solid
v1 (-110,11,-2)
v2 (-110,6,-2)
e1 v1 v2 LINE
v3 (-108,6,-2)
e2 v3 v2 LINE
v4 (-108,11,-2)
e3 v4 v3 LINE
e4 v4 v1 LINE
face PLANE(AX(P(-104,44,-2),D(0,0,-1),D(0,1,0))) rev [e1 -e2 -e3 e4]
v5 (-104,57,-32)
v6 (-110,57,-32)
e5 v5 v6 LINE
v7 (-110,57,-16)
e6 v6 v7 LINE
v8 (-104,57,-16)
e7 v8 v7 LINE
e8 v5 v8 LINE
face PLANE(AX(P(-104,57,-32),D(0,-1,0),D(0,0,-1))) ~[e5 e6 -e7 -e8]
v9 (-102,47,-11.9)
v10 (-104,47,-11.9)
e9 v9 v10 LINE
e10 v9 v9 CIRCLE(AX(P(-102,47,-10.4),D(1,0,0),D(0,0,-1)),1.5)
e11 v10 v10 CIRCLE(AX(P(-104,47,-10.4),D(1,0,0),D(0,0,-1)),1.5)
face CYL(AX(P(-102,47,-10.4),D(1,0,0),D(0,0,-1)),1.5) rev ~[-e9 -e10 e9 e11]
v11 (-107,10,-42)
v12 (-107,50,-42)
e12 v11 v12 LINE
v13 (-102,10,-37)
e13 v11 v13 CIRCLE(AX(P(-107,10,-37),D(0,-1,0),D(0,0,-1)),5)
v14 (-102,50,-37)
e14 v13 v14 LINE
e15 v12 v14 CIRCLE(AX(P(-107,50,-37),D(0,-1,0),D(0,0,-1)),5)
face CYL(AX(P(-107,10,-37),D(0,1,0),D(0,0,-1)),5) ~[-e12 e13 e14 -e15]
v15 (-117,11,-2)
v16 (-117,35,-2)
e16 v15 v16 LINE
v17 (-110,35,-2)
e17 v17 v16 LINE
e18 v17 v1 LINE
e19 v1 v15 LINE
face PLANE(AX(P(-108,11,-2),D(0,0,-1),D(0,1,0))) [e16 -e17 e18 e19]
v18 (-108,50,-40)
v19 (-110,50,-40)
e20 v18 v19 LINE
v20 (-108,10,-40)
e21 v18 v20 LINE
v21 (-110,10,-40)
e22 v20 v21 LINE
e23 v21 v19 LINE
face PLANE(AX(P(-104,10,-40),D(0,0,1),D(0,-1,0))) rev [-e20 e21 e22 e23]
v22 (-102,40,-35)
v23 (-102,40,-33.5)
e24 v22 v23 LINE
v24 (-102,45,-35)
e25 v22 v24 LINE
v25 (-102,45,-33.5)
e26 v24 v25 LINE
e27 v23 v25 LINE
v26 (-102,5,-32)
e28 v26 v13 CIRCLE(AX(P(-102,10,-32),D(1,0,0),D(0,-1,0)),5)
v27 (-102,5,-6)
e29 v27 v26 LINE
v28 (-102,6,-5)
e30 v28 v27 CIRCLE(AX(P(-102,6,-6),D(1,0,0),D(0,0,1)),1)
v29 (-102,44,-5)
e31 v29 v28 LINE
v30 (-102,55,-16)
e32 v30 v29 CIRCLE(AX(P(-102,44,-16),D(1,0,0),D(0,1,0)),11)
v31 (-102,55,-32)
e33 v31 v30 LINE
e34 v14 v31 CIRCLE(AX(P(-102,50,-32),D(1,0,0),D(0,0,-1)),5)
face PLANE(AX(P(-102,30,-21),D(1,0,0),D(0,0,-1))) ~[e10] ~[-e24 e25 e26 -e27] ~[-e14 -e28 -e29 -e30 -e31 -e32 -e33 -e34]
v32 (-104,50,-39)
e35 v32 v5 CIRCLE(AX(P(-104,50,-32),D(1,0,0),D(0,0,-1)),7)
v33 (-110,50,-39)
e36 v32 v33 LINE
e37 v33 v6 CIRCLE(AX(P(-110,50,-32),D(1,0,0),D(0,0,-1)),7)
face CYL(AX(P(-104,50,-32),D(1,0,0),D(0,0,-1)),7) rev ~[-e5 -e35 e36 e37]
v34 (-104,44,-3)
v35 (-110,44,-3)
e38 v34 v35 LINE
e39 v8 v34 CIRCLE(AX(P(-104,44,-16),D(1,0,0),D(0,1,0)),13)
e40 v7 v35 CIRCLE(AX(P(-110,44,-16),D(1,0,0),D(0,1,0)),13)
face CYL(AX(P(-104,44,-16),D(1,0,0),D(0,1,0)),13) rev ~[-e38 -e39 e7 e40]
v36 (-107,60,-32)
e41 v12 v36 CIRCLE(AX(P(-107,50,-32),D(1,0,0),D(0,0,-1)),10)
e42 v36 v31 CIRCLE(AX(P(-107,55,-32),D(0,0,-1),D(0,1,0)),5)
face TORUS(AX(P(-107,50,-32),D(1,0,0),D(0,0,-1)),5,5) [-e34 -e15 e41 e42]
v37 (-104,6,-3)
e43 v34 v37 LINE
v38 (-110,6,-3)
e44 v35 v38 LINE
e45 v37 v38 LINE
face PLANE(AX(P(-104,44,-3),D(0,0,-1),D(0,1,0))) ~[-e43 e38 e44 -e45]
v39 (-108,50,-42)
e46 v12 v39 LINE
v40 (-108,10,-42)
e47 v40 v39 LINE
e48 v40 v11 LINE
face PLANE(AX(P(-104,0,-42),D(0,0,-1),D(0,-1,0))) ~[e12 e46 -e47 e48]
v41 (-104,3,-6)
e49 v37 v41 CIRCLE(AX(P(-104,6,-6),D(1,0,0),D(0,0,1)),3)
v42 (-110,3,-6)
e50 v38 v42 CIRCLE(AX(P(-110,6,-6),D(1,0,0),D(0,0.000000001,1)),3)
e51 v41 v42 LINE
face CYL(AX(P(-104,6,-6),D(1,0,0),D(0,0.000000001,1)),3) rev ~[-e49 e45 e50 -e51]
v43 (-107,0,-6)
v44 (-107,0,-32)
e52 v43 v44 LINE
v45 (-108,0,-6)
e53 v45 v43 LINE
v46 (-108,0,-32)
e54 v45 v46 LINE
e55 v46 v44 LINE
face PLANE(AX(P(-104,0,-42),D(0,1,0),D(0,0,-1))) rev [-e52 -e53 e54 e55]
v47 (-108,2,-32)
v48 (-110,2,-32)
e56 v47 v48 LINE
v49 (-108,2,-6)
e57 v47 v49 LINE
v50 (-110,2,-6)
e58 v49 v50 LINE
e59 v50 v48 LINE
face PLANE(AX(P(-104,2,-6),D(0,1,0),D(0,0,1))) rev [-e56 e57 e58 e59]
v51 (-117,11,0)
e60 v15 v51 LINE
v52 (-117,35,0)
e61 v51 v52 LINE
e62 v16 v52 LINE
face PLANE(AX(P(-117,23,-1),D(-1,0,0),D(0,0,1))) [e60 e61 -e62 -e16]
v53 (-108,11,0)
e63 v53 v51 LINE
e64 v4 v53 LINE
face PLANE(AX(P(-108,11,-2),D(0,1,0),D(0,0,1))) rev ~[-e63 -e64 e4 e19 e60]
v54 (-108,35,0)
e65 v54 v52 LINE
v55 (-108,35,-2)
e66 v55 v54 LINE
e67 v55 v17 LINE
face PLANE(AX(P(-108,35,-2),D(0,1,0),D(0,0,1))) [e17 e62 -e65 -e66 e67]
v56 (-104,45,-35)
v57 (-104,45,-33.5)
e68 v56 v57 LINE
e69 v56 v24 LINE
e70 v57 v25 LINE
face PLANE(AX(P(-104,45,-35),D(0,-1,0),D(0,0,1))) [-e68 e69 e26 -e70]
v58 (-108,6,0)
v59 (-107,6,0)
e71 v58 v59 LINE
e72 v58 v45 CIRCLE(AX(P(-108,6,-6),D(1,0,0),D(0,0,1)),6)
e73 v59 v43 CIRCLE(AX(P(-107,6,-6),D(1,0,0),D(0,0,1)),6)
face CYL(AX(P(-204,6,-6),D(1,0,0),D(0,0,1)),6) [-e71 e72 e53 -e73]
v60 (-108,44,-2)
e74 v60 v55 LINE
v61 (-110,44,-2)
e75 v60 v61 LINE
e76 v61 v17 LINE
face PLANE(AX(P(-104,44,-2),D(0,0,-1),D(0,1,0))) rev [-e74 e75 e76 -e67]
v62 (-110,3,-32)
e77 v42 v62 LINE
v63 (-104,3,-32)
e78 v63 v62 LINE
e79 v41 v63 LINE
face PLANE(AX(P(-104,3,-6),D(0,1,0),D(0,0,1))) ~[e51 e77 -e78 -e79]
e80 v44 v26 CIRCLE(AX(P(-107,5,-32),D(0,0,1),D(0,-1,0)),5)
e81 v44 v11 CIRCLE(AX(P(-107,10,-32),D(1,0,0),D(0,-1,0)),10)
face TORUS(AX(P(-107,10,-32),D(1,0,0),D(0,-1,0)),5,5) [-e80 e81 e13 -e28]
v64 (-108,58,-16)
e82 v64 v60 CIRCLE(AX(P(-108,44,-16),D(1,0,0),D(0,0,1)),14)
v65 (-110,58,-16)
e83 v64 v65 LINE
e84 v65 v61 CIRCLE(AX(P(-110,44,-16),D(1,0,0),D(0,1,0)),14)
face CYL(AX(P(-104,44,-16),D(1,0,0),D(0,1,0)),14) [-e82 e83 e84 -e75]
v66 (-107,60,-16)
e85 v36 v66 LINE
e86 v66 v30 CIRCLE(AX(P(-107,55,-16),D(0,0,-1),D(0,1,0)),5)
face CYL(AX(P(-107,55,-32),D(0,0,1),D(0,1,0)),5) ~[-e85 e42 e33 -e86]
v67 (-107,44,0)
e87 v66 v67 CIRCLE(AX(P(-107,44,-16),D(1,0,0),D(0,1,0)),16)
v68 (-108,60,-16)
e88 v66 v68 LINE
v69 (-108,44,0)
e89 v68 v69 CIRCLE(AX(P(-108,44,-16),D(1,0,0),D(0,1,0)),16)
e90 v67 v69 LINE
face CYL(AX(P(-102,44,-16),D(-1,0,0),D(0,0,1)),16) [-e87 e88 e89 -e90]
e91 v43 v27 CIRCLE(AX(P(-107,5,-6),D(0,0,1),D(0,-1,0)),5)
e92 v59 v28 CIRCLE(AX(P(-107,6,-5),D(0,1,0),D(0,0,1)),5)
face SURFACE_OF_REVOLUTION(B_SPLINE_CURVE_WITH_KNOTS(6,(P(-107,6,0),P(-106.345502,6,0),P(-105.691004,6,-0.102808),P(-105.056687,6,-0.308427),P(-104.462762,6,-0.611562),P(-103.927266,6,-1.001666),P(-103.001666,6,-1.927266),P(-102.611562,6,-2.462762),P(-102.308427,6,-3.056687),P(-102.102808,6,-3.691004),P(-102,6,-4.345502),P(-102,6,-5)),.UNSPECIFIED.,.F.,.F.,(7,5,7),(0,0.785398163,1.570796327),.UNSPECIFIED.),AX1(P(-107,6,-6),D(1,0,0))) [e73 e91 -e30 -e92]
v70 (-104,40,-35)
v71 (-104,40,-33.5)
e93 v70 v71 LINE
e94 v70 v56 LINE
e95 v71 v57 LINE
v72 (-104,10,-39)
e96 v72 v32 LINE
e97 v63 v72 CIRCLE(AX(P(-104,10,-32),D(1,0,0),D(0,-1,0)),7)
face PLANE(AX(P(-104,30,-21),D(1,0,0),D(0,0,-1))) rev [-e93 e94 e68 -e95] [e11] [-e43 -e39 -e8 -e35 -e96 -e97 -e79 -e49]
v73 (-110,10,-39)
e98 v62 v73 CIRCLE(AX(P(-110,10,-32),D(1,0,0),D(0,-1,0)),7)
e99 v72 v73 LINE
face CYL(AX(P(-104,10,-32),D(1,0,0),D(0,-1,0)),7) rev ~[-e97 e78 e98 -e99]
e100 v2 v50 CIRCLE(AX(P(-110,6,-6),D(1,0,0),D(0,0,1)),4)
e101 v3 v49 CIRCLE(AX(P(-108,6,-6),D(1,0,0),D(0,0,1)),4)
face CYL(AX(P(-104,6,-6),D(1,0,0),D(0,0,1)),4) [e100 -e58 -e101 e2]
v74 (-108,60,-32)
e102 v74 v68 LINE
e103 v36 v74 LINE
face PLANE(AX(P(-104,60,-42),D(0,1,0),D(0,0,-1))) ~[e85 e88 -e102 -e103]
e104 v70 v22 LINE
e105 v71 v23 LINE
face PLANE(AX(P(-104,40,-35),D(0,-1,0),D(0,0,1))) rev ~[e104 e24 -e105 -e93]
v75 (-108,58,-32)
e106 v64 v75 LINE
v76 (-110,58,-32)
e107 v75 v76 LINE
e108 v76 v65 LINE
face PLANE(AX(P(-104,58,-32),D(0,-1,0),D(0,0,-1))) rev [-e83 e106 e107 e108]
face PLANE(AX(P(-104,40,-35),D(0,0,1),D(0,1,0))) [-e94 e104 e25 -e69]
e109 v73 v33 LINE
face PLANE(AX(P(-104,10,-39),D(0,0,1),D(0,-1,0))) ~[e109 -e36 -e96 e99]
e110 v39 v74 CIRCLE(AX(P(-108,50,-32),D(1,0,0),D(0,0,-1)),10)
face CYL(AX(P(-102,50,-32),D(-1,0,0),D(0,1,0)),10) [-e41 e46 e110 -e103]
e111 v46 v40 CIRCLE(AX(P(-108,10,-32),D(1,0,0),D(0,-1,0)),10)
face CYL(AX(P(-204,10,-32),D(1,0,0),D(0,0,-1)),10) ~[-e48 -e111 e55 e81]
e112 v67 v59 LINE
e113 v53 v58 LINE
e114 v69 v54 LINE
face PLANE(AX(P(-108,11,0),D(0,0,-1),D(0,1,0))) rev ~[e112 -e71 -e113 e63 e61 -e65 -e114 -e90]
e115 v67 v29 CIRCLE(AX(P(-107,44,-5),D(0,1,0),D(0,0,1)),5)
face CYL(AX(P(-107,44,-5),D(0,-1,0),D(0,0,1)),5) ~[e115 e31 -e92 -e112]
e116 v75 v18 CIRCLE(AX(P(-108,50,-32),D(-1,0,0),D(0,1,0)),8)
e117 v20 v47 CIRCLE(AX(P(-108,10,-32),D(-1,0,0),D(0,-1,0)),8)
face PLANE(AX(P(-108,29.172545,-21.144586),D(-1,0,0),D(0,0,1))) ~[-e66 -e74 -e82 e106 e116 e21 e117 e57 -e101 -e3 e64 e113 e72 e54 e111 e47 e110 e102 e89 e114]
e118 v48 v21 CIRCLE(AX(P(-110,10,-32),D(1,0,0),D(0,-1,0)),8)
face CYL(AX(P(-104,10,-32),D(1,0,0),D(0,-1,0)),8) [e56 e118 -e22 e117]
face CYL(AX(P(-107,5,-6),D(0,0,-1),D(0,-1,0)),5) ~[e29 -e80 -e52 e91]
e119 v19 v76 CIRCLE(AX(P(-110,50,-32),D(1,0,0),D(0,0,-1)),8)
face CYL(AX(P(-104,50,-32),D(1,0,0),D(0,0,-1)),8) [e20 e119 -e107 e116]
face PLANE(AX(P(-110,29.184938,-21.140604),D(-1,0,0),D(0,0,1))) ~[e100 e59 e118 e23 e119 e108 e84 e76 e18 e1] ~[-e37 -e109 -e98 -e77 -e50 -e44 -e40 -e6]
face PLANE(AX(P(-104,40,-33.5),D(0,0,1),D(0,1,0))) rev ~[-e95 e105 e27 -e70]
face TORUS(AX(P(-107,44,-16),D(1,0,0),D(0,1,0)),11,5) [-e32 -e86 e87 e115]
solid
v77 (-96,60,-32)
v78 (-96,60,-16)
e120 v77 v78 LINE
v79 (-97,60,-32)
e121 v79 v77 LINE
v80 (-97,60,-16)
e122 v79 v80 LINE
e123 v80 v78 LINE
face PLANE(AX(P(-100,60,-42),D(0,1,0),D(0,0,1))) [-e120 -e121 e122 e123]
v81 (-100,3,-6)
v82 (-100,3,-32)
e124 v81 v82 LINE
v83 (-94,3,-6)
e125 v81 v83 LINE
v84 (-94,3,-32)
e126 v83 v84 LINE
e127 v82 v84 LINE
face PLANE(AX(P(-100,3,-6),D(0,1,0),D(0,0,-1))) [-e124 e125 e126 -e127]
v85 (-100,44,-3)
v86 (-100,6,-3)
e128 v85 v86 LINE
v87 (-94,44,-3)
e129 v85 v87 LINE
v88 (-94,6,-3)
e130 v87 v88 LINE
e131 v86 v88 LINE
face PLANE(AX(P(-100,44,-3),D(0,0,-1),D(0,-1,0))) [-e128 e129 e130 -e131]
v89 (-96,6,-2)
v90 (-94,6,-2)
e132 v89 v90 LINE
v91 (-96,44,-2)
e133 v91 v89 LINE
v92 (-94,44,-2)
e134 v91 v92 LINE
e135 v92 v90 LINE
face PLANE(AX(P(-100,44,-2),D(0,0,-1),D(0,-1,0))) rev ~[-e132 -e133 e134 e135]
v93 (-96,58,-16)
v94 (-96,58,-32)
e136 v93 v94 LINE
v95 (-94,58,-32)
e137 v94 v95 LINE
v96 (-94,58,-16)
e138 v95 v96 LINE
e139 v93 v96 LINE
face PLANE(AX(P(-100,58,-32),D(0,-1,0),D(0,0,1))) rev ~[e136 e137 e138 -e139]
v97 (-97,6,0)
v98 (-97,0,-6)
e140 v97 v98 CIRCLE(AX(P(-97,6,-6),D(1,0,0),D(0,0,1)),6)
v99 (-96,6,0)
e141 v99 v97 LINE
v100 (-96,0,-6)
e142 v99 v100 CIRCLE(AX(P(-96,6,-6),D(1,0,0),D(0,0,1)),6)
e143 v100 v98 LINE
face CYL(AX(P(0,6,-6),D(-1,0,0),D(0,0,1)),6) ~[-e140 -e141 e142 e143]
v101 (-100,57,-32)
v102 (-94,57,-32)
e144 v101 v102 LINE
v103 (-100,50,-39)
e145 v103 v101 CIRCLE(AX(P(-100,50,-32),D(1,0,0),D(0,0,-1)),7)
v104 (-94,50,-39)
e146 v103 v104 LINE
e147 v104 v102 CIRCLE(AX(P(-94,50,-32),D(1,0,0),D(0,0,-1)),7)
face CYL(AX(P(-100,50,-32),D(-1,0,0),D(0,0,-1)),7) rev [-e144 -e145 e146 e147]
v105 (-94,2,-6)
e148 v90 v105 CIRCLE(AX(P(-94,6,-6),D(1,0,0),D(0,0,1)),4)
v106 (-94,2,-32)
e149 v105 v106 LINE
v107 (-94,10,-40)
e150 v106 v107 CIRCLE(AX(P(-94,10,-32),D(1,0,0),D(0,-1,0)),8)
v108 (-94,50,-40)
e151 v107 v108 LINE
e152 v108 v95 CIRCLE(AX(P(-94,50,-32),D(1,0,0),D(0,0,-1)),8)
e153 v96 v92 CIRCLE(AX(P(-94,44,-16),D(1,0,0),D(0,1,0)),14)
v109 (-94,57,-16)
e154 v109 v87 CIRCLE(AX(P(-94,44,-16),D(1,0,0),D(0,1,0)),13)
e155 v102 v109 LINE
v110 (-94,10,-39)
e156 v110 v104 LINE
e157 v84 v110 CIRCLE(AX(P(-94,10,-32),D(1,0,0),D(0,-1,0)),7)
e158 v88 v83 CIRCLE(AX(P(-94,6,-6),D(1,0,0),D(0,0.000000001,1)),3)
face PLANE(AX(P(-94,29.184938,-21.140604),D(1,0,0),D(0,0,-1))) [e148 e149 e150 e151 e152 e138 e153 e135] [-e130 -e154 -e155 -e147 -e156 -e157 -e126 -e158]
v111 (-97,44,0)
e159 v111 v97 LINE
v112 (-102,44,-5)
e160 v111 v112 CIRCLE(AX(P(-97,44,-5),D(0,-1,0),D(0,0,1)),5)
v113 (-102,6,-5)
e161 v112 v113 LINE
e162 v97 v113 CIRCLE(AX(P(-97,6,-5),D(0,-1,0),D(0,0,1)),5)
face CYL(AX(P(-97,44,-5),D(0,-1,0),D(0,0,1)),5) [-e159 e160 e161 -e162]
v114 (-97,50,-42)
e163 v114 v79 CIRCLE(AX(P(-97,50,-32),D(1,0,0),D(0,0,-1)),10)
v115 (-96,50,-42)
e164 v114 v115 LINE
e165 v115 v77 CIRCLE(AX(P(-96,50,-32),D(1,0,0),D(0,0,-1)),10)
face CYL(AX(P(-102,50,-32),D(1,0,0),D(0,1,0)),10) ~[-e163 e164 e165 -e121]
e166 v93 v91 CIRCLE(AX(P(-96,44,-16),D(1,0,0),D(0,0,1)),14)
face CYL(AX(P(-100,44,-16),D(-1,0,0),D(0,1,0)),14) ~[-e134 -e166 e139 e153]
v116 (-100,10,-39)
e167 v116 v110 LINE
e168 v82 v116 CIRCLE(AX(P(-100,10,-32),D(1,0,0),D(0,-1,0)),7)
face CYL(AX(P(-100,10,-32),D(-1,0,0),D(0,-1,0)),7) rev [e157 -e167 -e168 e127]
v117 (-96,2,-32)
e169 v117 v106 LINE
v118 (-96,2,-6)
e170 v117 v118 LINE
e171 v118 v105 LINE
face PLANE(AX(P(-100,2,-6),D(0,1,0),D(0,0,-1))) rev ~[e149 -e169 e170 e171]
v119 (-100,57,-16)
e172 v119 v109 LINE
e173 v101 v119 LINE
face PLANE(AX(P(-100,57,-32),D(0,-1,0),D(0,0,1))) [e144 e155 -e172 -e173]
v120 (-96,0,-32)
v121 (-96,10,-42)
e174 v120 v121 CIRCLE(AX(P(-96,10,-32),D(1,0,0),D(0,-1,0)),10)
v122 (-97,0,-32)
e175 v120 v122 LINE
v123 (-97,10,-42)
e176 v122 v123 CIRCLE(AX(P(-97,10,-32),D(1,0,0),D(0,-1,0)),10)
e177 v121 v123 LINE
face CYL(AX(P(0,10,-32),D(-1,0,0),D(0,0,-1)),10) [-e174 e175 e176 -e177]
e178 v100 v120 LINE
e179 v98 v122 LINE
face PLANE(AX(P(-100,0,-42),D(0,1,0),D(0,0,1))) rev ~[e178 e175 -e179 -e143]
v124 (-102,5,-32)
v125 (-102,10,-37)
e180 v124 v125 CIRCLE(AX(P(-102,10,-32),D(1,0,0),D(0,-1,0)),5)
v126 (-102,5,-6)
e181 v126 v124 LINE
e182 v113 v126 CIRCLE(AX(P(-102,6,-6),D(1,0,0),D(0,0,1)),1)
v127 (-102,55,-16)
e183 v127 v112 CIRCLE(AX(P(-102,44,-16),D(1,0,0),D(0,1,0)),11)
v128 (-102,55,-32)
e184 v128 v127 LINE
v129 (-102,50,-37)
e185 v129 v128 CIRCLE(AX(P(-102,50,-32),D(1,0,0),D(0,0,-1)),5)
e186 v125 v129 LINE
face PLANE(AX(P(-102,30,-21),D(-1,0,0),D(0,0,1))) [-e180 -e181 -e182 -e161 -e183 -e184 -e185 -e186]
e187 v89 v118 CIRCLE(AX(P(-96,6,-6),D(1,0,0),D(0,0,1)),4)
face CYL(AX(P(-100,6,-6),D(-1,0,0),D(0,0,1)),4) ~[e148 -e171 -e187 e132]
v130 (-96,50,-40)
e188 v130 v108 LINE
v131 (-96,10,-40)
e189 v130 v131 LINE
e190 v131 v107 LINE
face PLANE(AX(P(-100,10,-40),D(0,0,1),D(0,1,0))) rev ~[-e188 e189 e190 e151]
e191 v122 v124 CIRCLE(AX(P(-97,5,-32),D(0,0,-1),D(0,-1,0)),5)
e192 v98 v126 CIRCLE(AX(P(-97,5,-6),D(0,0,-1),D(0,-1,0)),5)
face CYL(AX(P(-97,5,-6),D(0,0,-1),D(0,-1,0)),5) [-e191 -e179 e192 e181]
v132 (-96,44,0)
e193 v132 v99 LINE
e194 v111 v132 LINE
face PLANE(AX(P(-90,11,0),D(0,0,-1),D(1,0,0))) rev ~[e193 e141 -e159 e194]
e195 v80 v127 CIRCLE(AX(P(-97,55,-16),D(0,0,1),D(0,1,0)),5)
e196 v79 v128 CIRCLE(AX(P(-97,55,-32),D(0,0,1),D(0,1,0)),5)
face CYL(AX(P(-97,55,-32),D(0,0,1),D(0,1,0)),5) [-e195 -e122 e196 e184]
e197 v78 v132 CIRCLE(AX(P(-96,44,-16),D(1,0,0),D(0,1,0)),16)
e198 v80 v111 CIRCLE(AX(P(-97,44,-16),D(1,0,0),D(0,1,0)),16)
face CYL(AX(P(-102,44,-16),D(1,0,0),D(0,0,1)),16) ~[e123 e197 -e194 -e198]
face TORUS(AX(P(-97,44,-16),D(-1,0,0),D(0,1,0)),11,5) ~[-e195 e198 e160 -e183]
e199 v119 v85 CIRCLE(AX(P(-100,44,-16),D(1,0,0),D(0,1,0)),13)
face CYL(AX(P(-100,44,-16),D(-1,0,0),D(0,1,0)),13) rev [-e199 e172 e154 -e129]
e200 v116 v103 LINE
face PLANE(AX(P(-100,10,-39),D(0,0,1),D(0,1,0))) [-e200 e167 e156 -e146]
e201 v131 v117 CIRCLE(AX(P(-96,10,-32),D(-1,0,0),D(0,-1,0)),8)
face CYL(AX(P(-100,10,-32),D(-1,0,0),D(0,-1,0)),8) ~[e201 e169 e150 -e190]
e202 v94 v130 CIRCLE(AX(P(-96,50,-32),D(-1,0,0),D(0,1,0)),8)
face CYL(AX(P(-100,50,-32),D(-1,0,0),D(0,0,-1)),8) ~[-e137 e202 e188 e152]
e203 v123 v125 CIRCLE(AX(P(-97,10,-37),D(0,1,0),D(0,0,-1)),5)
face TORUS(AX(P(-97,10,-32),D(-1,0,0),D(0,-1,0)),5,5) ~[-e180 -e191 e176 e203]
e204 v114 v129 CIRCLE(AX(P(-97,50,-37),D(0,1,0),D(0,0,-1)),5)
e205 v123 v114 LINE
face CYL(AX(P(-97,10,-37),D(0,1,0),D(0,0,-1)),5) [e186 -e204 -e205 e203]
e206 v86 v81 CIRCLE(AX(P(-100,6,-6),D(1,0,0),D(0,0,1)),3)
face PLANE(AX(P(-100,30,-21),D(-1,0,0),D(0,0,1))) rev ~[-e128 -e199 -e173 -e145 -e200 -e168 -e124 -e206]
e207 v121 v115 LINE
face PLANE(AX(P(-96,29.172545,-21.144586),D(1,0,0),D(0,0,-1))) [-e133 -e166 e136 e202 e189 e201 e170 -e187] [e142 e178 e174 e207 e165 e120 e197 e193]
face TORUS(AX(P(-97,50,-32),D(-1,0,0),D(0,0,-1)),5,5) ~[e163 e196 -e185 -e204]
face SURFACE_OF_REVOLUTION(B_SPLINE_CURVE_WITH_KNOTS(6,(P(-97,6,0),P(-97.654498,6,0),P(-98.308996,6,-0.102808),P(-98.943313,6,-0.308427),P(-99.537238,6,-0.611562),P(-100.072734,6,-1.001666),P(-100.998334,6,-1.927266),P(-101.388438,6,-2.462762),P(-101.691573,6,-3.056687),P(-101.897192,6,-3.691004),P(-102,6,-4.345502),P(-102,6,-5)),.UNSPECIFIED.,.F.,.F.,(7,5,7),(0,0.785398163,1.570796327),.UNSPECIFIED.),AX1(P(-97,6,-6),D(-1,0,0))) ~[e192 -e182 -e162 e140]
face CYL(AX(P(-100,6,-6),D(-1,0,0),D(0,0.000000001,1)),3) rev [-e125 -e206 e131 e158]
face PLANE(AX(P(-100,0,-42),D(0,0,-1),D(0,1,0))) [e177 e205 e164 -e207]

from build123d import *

# Parameters (mm, degrees)
SKETCH_1_W           = 1
SKETCH_1_H           = 1.9
SKETCH_1_W_2         = 2
SKETCH_1_H_2         = 60
EXTRUDE_1_DEPTH      = 90
SKETCH_2_W           = 2
SKETCH_2_H           = 24
CUT_EXTRUDE_1_DEPTH  = 117.034477635
SKETCH_4_W           = 1
SKETCH_4_H           = 0.1
EXTRUDE_2_DEPTH      = 3
SKETCH_5_W           = 2
SKETCH_5_H           = 24
EXTRUDE_3_DEPTH      = 10
SKETCH_6_W           = 42
SKETCH_6_H           = 60
EXTRUDE_4_DEPTH      = 2
EXTRUDE_5_REACH      = 122.702
SKETCH_8_W           = 10
SKETCH_8_H           = 2
FILLET_1_R           = 14
FILLET_2_R           = 16
FILLET_4_R           = 8
FILLET_5_R           = 10
FILLET_6_R           = 4
FILLET_7_R           = 6
FILLET_8_R           = 5
FILLET_9_R           = 1
CUT_EXTRUDE_START    = -80
CUT_EXTRUDE_2_DEPTH  = 80
CUT_EXTRUDE_3_DEPTH  = 16
EXTRUDE_7_DEPTH      = 2
EXTRUDE_7_DEPTH_BACK = 4
SKETCH_13_W          = 2
SKETCH_13_H          = 24
EXTRUDE_8_DEPTH      = 9
SKETCH_14_W          = 1.5
SKETCH_14_H          = 5
CUT_EXTRUDE_4_DEPTH  = 75.384138151
SKETCH_15_R          = 1.5
CUT_EXTRUDE_5_DEPTH  = 75.759614822


with BuildPart() as part:
    # Эскиз1 → Бобышка-Вытянуть1 (new body)
    with BuildSketch(Plane(origin=(0, 0, 0), x_dir=(0, 0, -1), z_dir=(1, 0, 0))):
        Polygon((18, 60), (2, 60), (2, 58), (18, 58), (18, 58.1), align=None)
        with Locations((18.5, 59.05)):
            Rectangle(SKETCH_1_W, SKETCH_1_H)
        Polygon((40, 60), (19, 60), (19, 58.1), (19, 58), (40, 58), align=None)
        with Locations((1, 30)):
            Rectangle(SKETCH_1_W_2, SKETCH_1_H_2)
        Polygon((40, 2), (40, 0), (42, 0), (42, 60), (40, 60), (40, 58), align=None)
        Polygon((19, 1.9), (19, 0), (40, 0), (40, 2), (19, 2), align=None)
        with Locations((18.5, 0.95)):
            Rectangle(SKETCH_1_W, SKETCH_1_H)
        Polygon((2, 2), (2, 0), (18, 0), (18, 1.9), (18, 2), align=None)
    extrude(amount=-EXTRUDE_1_DEPTH)

    # Эскиз2 → Вырез-Вытянуть1 (cut, through all)
    with BuildSketch(Plane(origin=(0, 0, 0), x_dir=(0, 0, -1), z_dir=(1, 0, 0))):
        with Locations((1, 23)):
            Rectangle(SKETCH_2_W, SKETCH_2_H)
    extrude(amount=-CUT_EXTRUDE_1_DEPTH, mode=Mode.SUBTRACT)

    # Эскиз4 → Бобышка-Вытянуть2 (add)
    with BuildSketch(Plane.ZY.offset(90)):
        with Locations((-18.5, 58.05)):
            Rectangle(SKETCH_4_W, SKETCH_4_H)
        with Locations((-18.5, 1.95)):
            Rectangle(SKETCH_4_W, SKETCH_4_H)
    extrude(amount=-EXTRUDE_2_DEPTH)

    # Эскиз5 → Бобышка-Вытянуть3 (add)
    with BuildSketch(Plane.ZY.offset(90)):
        Polygon((0, 11), (-2, 11), (-2, 2), (-40, 2), (-40, 58), (-2, 58), (-2, 35), (0, 35), (0, 60), (-42, 60), (-42, 0), (0, 0), align=None)
        with Locations((-1, 23)):
            Rectangle(SKETCH_5_W, SKETCH_5_H)
    extrude(amount=EXTRUDE_3_DEPTH)

    # Эскиз6 → Бобышка-Вытянуть4 (add)
    with BuildSketch(Plane.ZY.offset(100)):
        with Locations((-21, 30)):
            Rectangle(SKETCH_6_W, SKETCH_6_H)
    extrude(amount=EXTRUDE_4_DEPTH)

    # Эскиз8 → Бобышка-Вытянуть5 (add, up to next)
    with BuildSketch(Plane(origin=(0, 11, 0), x_dir=(1, 0, 0), z_dir=(0, 1, 0)), mode=Mode.PRIVATE) as extrude_5_sk1:
        with Locations((-85, 1)):
            Rectangle(SKETCH_8_W, SKETCH_8_H)
    extrude_5_tool1 = extrude(extrude_5_sk1.sketch, amount=EXTRUDE_5_REACH, mode=Mode.PRIVATE) - part.part
    add(extrude_5_tool1.solids().sort_by_distance((-85, 11, -1))[0])

    # Скругление1
    fillet_1_edges = [part.edges().sort_by_distance(p)[0] for p in [
        (-50, 58, -2),
    ]]
    fillet(fillet_1_edges, radius=FILLET_1_R)

    # Скругление2
    fillet_2_edges = [part.edges().sort_by_distance(p)[0] for p in [
        (-51, 60, 0),
    ]]
    fillet(fillet_2_edges, radius=FILLET_2_R)

    # Скругление4
    fillet_4_edges = [part.edges().sort_by_distance(p)[0] for p in [
        (-50, 2, -40),
        (-50, 58, -40),
    ]]
    fillet(fillet_4_edges, radius=FILLET_4_R)

    # Скругление5
    fillet_5_edges = [part.edges().sort_by_distance(p)[0] for p in [
        (-51, 60, -42),
        (-51, 0, -42),
    ]]
    fillet(fillet_5_edges, radius=FILLET_5_R)

    # Скругление6
    fillet_6_edges = [part.edges().sort_by_distance(p)[0] for p in [
        (-50, 2, -2),
    ]]
    fillet(fillet_6_edges, radius=FILLET_6_R)

    # Скругление7
    fillet_7_edges = [part.edges().sort_by_distance(p)[0] for p in [
        (-51, 0, 0),
    ]]
    fillet(fillet_7_edges, radius=FILLET_7_R)

    # Скругление8
    fillet_8_edges = [part.edges().sort_by_distance(p)[0] for p in [
        (-102, 60, -24),
        (-102, 55.313708499, -4.686291501),
        (-102, 0, -19),
        (-102, 30, -42),
        (-102, 57.071067812, -39.071067812),
        (-102, 2.928932188, -39.071067812),
        (-102, 25, 0),
        (-102, 1.757359313, -1.757359313),
    ]]
    fillet(fillet_8_edges, radius=FILLET_8_R)

    # Скругление9
    fillet_9_edges = [part.edges().sort_by_distance(p)[0] for p in [
        (-100, 25, -2),
        (-100, 53.899494937, -6.100505063),
        (-100, 30, -40),
        (-100, 58, -24),
        (-100, 55.656854249, -37.656854249),
        (-100, 4.343145751, -37.656854249),
        (-100, 2, -19),
        (-100, 3.171572875, -3.171572875),
    ]]
    fillet(fillet_9_edges, radius=FILLET_9_R)

    # Эскиз9 → Вырез-Вытянуть2 (cut)
    with BuildSketch(Plane(origin=(0, 0, 0), x_dir=(0, 0, -1), z_dir=(1, 0, 0)).offset(CUT_EXTRUDE_START)):
        with BuildLine():
            Line((0, 11), (0, 6))
            ThreePointArc((0, 6), (1.757359313, 1.757359313), (6, 0))
            Line((6, 0), (32, 0))
            ThreePointArc((32, 0), (39.071067812, 2.928932188), (42, 10))
            Line((42, 10), (42, 50))
            ThreePointArc((42, 50), (39.071067812, 57.071067812), (32, 60))
            Line((32, 60), (16, 60))
            ThreePointArc((16, 60), (4.686291501, 55.313708499), (0, 44))
            Line((0, 44), (0, 35))
            Line((0, 35), (2, 35))
            Line((2, 35), (2, 44))
            ThreePointArc((2, 44), (6.100505063, 53.899494937), (16, 58))
            Line((16, 58), (18, 58))
            Line((18, 58), (18, 58.1))
            Line((18, 58.1), (19, 58.1))
            Line((19, 58.1), (19, 58))
            Line((19, 58), (32, 58))
            ThreePointArc((32, 58), (37.656854249, 55.656854249), (40, 50))
            Line((40, 50), (40, 10))
            ThreePointArc((40, 10), (37.656854249, 4.343145751), (32, 2))
            Line((32, 2), (19, 2))
            Line((19, 2), (19, 1.9))
            Line((19, 1.9), (18, 1.9))
            Line((18, 1.9), (18, 2))
            Line((18, 2), (6, 2))
            ThreePointArc((6, 2), (3.171572875, 3.171572875), (2, 6))
            Line((2, 6), (2, 11))
            Line((2, 11), (0, 11))
        make_face()
    extrude(amount=CUT_EXTRUDE_2_DEPTH, mode=Mode.SUBTRACT)

    # Эскиз10 → Вырез-Вытянуть3 (cut)
    with BuildSketch(Plane(origin=(-80, 0, 0), x_dir=(0, 0, -1), z_dir=(1, 0, 0))):
        with BuildLine():
            Line((0, 44), (0, 6))
            ThreePointArc((0, 6), (1.757359313, 1.757359313), (6, 0))
            Line((6, 0), (32, 0))
            ThreePointArc((32, 0), (39.071067812, 2.928932188), (42, 10))
            Line((42, 10), (42, 50))
            ThreePointArc((42, 50), (39.071067812, 57.071067812), (32, 60))
            Line((32, 60), (16, 60))
            ThreePointArc((16, 60), (4.686291501, 55.313708499), (0, 44))
        make_face()
    extrude(amount=-CUT_EXTRUDE_3_DEPTH, mode=Mode.SUBTRACT)

    # Эскиз12 → Бобышка-Вытянуть7 (add, two sides: drawn at the far end of the back side and taken through both)
    with BuildSketch(Plane(origin=(-96, 0, 0), x_dir=(0, 0, -1), z_dir=(1, 0, 0)).offset(-EXTRUDE_7_DEPTH_BACK)):
        with BuildLine():
            Line((2, 44), (2, 6))
            ThreePointArc((2, 6), (3.171572875, 3.171572875), (6, 2))
            Line((6, 2), (32, 2))
            ThreePointArc((32, 2), (37.656854249, 4.343145751), (40, 10))
            Line((40, 10), (40, 50))
            ThreePointArc((40, 50), (37.656854249, 55.656854249), (32, 58))
            Line((32, 58), (16, 58))
            ThreePointArc((16, 58), (6.100505063, 53.899494937), (2, 44))
        make_face()
        with BuildLine():
            Line((3, 44), (3, 6))
            ThreePointArc((3, 6), (3.878679656, 3.878679656), (6, 3))
            Line((6, 3), (32, 3))
            ThreePointArc((32, 3), (36.949747468, 5.050252532), (39, 10))
            Line((39, 10), (39, 50))
            ThreePointArc((39, 50), (36.949747468, 54.949747468), (32, 57))
            Line((32, 57), (16, 57))
            ThreePointArc((16, 57), (6.807611845, 53.192388155), (3, 44))
        make_face(mode=Mode.SUBTRACT)
    extrude(amount=EXTRUDE_7_DEPTH + EXTRUDE_7_DEPTH_BACK)


with BuildPart() as body_2:
    # Зеркальное отражение1: mirrored copy
    add(part.part.mirror(Plane.ZY.offset(102)))

    # Эскиз13 → Бобышка-Вытянуть8 (add)
    with BuildSketch(Plane.ZY.offset(108)):
        with Locations((-1, 23)):
            Rectangle(SKETCH_13_W, SKETCH_13_H)
    extrude(amount=EXTRUDE_8_DEPTH)

    # Эскиз14 → Вырез-Вытянуть4 (cut, through all)
    with BuildSketch(Plane.ZY.offset(104)):
        with Locations((-34.25, 42.5)):
            Rectangle(SKETCH_14_W, SKETCH_14_H)
    extrude(amount=-CUT_EXTRUDE_4_DEPTH, mode=Mode.SUBTRACT)

    # Эскиз15 → Вырез-Вытянуть5 (cut, through all)
    with BuildSketch(Plane(origin=(-102, 0, 0), x_dir=(0, 0, -1), z_dir=(1, 0, 0))):
        with Locations((10.4, 47)):
            Circle(SKETCH_15_R)
    extrude(amount=-CUT_EXTRUDE_5_DEPTH, mode=Mode.SUBTRACT)


solid = Compound([part.part, body_2.part])
